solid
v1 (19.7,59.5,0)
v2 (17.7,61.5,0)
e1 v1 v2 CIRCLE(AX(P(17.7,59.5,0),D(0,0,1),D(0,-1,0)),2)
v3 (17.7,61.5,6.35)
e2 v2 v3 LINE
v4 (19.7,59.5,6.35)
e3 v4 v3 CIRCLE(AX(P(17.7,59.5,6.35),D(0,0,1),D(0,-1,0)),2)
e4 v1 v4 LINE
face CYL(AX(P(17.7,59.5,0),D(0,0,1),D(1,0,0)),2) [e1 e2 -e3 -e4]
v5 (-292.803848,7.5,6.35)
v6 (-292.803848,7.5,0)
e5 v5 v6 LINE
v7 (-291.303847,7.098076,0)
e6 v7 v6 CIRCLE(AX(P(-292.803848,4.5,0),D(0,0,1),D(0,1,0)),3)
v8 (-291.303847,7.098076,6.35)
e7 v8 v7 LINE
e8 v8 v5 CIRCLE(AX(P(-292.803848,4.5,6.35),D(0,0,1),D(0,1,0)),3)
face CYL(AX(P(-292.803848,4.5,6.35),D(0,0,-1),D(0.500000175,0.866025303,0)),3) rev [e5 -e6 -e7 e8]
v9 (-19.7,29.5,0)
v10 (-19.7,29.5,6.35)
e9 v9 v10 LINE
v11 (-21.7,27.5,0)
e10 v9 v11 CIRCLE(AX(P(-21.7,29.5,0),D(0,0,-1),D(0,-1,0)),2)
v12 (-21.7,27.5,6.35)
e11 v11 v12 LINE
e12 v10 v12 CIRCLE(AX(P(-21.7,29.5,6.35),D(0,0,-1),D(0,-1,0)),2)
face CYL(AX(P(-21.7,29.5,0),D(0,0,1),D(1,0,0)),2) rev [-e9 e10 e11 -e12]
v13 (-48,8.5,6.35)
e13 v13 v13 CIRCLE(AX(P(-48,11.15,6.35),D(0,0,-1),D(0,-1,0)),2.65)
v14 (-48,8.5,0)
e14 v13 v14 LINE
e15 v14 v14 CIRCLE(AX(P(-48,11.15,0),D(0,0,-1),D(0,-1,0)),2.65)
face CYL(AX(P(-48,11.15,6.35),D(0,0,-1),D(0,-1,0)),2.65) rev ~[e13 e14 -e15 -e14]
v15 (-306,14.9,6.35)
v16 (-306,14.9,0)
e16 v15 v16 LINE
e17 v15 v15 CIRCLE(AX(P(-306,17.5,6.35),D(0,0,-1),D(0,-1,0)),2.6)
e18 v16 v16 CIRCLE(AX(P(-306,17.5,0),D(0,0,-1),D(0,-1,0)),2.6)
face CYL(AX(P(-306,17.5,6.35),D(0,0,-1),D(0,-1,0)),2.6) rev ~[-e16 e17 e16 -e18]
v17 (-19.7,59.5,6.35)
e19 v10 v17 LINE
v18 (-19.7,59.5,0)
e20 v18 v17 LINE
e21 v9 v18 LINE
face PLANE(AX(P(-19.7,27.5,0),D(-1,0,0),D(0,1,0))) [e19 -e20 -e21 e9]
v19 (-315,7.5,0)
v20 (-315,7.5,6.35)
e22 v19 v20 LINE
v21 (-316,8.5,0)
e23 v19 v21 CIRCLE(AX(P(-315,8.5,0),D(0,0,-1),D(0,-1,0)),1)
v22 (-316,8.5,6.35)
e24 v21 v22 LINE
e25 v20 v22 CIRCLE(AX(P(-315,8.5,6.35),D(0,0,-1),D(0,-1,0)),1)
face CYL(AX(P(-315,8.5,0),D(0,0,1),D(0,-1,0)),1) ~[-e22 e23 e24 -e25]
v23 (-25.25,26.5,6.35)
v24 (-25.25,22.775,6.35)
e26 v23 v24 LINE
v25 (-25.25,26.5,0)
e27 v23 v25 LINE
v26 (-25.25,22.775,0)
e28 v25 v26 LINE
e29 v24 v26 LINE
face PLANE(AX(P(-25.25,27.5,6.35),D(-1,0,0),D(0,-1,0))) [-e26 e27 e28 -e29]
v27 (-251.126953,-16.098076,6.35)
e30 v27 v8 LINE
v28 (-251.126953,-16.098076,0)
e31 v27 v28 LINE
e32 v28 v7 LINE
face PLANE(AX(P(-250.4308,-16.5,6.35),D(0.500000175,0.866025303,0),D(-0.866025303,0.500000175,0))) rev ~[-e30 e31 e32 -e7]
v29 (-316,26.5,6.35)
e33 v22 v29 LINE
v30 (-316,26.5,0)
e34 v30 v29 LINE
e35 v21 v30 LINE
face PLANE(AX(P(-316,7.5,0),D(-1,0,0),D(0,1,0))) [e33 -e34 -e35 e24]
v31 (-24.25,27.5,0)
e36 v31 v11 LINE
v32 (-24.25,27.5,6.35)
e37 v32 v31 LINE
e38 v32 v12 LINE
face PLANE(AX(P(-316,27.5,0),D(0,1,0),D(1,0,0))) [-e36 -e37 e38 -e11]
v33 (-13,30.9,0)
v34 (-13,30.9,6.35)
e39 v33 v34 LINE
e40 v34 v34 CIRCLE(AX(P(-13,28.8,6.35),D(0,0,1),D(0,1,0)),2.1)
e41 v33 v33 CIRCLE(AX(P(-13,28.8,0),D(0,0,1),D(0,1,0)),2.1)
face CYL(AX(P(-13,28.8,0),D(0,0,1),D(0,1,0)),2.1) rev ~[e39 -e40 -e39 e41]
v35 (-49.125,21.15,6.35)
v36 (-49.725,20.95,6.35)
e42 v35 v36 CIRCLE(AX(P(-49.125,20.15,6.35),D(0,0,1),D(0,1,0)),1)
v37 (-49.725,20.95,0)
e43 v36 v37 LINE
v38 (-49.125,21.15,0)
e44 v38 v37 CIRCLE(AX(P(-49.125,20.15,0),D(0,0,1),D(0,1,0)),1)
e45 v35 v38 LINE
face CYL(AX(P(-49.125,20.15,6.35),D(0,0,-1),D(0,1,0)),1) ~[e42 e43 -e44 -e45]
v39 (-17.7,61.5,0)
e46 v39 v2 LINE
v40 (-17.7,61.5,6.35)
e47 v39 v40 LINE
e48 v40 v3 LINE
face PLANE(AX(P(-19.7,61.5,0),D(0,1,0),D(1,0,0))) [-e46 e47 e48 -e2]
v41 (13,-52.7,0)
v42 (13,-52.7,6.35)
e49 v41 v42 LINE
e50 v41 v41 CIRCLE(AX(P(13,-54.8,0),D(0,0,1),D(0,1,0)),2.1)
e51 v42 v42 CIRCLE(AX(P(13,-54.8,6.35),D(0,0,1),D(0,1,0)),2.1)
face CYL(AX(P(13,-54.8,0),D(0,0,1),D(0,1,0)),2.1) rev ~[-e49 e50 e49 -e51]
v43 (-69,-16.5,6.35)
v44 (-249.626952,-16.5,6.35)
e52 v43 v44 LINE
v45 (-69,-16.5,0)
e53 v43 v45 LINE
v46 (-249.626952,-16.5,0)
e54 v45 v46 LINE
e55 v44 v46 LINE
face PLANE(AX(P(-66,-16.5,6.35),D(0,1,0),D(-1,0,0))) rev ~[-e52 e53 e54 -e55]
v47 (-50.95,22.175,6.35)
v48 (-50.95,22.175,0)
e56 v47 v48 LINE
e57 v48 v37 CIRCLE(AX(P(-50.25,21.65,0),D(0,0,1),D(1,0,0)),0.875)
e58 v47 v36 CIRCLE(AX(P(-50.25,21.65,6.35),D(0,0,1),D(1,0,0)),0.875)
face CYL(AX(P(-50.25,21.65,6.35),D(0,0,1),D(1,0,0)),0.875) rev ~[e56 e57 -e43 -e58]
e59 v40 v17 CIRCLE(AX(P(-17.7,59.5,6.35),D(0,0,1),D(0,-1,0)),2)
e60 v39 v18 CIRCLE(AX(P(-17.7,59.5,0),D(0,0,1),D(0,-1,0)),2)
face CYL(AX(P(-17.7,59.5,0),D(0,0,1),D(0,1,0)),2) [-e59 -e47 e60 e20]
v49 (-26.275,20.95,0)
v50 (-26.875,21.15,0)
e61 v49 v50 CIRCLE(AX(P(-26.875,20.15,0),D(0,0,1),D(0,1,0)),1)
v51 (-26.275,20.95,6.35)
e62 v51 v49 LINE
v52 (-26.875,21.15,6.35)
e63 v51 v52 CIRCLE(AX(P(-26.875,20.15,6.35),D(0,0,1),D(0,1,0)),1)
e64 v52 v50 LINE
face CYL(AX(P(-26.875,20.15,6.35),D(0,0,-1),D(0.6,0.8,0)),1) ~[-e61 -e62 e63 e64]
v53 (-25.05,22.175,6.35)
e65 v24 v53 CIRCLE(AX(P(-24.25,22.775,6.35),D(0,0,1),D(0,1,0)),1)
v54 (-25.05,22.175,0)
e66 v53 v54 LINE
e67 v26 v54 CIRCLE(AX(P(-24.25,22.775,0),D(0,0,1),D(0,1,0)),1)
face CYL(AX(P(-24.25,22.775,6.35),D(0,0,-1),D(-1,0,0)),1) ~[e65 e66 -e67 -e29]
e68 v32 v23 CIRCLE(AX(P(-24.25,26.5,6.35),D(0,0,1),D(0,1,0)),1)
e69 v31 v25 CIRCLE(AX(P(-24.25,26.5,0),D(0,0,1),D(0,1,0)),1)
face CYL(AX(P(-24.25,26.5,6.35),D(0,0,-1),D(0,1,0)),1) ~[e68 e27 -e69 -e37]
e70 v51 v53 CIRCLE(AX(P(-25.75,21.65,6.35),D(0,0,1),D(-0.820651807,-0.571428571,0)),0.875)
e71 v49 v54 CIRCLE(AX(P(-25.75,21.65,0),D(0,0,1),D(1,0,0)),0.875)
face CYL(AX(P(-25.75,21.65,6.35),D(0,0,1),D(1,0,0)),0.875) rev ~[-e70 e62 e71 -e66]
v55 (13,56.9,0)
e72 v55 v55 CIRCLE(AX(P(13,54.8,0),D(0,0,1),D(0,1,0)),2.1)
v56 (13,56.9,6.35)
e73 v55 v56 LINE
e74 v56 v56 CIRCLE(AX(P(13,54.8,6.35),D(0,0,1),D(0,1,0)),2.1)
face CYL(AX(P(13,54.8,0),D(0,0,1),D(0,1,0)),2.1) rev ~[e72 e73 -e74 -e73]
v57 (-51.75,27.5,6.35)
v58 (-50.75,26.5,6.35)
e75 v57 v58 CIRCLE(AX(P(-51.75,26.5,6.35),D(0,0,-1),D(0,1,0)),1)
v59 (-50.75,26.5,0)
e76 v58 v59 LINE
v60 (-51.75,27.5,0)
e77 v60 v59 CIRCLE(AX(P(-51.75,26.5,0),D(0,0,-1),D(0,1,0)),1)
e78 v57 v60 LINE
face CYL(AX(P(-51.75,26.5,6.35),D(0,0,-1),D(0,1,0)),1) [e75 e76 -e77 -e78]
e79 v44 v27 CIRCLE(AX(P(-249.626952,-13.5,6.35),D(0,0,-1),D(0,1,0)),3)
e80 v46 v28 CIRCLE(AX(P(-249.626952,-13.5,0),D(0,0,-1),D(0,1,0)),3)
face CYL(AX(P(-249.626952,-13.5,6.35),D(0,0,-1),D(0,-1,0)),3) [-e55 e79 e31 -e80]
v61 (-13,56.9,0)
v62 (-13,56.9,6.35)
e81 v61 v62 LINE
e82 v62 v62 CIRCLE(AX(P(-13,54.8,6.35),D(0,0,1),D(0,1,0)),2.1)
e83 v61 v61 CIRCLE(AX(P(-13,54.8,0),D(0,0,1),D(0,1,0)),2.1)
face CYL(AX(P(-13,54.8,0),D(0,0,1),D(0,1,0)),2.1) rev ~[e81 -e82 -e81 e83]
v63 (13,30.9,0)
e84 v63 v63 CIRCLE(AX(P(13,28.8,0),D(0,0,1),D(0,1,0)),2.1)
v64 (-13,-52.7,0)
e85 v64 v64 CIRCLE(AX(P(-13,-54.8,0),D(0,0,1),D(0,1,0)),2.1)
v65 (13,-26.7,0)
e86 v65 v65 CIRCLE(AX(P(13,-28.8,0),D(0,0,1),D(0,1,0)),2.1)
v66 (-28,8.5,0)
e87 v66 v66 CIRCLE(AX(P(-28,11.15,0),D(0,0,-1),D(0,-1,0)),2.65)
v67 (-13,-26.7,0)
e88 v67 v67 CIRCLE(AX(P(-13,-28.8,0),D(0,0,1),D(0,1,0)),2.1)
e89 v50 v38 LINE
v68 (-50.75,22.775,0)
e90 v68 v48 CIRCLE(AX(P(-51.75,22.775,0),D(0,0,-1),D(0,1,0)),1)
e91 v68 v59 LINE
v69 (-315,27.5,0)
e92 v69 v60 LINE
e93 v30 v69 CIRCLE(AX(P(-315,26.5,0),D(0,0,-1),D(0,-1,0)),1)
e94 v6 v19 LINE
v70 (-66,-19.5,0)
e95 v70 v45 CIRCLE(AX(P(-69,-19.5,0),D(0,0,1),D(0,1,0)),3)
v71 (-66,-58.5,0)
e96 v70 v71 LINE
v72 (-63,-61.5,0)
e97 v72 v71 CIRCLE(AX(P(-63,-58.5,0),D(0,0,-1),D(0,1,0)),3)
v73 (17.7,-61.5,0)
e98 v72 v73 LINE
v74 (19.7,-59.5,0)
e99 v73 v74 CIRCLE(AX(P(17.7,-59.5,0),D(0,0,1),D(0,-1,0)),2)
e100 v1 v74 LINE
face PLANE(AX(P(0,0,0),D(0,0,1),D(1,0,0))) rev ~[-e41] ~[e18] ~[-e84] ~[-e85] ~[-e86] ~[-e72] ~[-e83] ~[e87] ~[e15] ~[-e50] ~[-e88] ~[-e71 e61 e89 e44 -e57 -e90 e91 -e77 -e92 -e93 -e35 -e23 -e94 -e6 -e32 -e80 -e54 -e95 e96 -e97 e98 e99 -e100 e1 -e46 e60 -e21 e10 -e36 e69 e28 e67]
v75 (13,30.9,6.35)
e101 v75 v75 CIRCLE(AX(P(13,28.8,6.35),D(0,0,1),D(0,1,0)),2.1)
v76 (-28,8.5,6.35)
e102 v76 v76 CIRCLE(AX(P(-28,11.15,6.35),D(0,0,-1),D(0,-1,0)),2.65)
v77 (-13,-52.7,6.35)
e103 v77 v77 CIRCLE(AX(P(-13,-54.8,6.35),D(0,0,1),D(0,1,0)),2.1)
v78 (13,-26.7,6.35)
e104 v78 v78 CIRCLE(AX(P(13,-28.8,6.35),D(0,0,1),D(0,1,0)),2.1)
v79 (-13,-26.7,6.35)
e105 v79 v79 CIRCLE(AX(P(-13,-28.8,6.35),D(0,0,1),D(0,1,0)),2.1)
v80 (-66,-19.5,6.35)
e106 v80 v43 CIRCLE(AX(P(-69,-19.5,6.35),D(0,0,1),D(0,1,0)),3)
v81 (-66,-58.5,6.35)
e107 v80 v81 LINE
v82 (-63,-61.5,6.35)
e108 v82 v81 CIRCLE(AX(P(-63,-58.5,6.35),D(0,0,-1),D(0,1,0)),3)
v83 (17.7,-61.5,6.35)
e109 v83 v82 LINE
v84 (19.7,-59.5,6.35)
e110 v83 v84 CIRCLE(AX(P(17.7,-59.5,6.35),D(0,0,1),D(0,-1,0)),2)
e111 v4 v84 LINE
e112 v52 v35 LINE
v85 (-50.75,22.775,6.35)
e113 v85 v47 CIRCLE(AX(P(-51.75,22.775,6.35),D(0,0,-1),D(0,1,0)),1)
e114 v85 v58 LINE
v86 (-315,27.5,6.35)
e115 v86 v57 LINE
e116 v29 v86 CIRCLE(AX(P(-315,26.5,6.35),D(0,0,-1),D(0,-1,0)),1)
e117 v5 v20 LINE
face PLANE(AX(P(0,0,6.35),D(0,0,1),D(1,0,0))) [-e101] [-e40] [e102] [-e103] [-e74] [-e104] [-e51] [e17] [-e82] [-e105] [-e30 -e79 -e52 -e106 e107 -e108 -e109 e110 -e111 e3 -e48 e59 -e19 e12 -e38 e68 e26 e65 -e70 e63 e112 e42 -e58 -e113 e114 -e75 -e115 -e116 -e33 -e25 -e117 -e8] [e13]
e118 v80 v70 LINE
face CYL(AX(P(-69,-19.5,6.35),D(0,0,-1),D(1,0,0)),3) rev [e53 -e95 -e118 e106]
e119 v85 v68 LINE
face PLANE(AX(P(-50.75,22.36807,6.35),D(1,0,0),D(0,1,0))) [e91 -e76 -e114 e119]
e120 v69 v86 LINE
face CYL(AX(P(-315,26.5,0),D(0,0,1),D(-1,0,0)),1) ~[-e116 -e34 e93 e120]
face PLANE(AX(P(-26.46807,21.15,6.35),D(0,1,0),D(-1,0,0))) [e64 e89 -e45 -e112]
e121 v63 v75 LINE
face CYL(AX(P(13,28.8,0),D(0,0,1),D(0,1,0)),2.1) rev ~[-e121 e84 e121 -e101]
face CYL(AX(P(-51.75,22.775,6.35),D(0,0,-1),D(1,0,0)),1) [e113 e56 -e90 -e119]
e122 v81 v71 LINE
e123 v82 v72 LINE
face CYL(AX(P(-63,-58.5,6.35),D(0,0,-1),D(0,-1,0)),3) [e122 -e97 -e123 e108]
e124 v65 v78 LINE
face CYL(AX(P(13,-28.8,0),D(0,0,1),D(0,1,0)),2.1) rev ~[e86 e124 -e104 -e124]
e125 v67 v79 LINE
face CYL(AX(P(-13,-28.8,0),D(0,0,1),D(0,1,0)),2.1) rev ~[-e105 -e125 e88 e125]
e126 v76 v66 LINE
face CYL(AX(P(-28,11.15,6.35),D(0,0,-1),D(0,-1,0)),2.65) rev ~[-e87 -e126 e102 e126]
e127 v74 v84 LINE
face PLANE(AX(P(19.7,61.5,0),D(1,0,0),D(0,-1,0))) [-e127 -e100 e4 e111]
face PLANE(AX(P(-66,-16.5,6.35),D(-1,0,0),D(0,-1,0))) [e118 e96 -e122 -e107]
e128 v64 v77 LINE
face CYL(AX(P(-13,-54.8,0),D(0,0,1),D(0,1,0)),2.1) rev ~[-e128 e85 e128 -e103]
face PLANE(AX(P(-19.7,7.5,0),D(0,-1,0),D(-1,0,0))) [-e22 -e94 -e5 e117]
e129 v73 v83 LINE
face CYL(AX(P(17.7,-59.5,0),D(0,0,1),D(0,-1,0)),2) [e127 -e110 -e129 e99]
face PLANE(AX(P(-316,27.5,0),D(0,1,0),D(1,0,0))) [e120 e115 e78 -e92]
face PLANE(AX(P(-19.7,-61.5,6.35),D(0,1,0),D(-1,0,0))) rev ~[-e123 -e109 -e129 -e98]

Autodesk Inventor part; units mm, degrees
ref_plane "YZ Plane" through (0, 0, 0) normal (1, 0, 0) x (0, 1, 0)
ref_plane "XZ Plane" through (0, 0, 0) normal (0, 1, 0) x (-1, 0, 0)
sketch "Sketch1" plane through (0, 0, 0) normal (0, 0, 1) x (1, 0, 0)
  line L0 (19.7, -72.5) -> (-19.7, -72.5)
  line L1 (-19.7, -72.5) -> (-19.7, 72.5)
  line L2 (-19.7, 72.5) -> (19.7, 72.5)
  line L3 (19.7, 72.5) -> (19.7, -72.5)
  line L4 (19.7, -72.5) -> (-19.7, 72.5) construction
  line L5 (-19.7, -72.5) -> (19.7, 72.5) construction
  line L6 (19.7, 11.1) -> (-19.7, 11.1) construction
  line L7 (-19.7, 11.1) -> (-19.7, 72.5) construction
  line L8 (-19.7, 72.5) -> (19.7, 72.5) construction
  line L9 (19.7, 72.5) -> (19.7, 11.1) construction
  line L10 (19.7, 11.1) -> (-19.7, 72.5) construction
  line L11 (-19.7, 11.1) -> (19.7, 72.5) construction
  line L12 (19.7, -72.5) -> (-19.7, -72.5) construction
  line L13 (-19.7, -72.5) -> (-19.7, -11.1) construction
  line L14 (-19.7, -11.1) -> (19.7, -11.1) construction
  line L15 (19.7, -11.1) -> (19.7, -72.5) construction
  line L16 (19.7, -72.5) -> (-19.7, -11.1) construction
  line L17 (-19.7, -72.5) -> (19.7, -11.1) construction
  line L18 (19.7, 22.1) -> (-19.7, 22.1) construction
  line L19 (-19.7, 22.1) -> (-19.7, 61.5) construction
  line L20 (-19.7, 61.5) -> (19.7, 61.5)
  line L21 (19.7, 61.5) -> (19.7, 22.1) construction
  line L22 (19.7, 22.1) -> (-19.7, 61.5) construction
  line L23 (-19.7, 22.1) -> (19.7, 61.5) construction
  line L24 (19.7, -61.5) -> (-19.7, -61.5)
  line L25 (-19.7, -61.5) -> (-19.7, -22.1) construction
  line L26 (-19.7, -22.1) -> (19.7, -22.1) construction
  line L27 (19.7, -22.1) -> (19.7, -61.5) construction
  line L28 (19.7, -61.5) -> (-19.7, -22.1) construction
  line L29 (-19.7, -61.5) -> (19.7, -22.1) construction
  line L30 (13, 28.8) -> (-13, 28.8) construction
  line L31 (-13, 28.8) -> (-13, 54.8) construction
  line L32 (-13, 54.8) -> (13, 54.8) construction
  line L33 (13, 54.8) -> (13, 28.8) construction
  line L34 (13, 28.8) -> (-13, 54.8) construction
  line L35 (-13, 28.8) -> (13, 54.8) construction
  line L36 (13, -54.8) -> (-13, -54.8) construction
  line L37 (-13, -54.8) -> (-13, -28.8) construction
  line L38 (-13, -28.8) -> (13, -28.8) construction
  line L39 (13, -28.8) -> (13, -54.8) construction
  line L40 (13, -54.8) -> (-13, -28.8) construction
  line L41 (-13, -54.8) -> (13, -28.8) construction
  line L42 (-316, 27.5) -> (-19.7, 27.5)
  line L43 (-19.7, 27.5) -> (-19.7, 7.5)
  line L44 (-19.7, 7.5) -> (-316, 7.5)
  line L45 (-316, 7.5) -> (-316, 27.5)
  line L46 (19.7, -63.5) -> (19.7, -63.5)
  line L47 (19.772, 73.498) -> (19.772, 73.498)
  point P0 (0, 0)
  point P1 (0, 41.8)
  point P2 (0, -41.8)
  point P3 (-316, 17.5)
  point P4 (-291, 7.5)
  point P5 (17, 72.5)
  point P6 (17, -72.5)
  point P7 (-19.7, 27.5)
  point P8 (-19.7, 7.5)
  point P9 (-19.7, -61.5)
  point P10 (19.7, -61.5)
  dimension "d1" = 145
  dimension "d2" = 61.4
  dimension "d3" = 39.4
  dimension "d4" = 26
  dimension "d5" = 26
  dimension "d6" = 20
  dimension "d8" = 316
  dimension "d11" = 25
  dimension "d55" = 45
  dimension "d126" = 6.7
  dimension "d128" = 6.7
extrude "Extrusion1" add sketch "Sketch1" along normal blind 6.35 contours L24 L1 L20 L3 | L44 L45 L42 L1
sketch "Sketch2" plane through (0, 0, 6.35) normal (0, 0, 1) x (1, 0, 0)
  line L0 (19.7, -61.5) -> (19.7, 61.5) projected
  line L1 (-19.7, 61.5) -> (-19.7, 27.5) projected
  line L2 (-19.7, 27.5) -> (-316, 27.5) projected
  line L3 (-316, 27.5) -> (-316, 7.5) projected
  line L4 (-316, 7.5) -> (-19.7, 7.5) projected
  line L5 (-19.7, 7.5) -> (-19.7, -61.5) projected
  line L6 (19.7, -61.5) -> (-19.7, -61.5) construction
  line L7 (-19.7, -61.5) -> (19.7, -61.5) projected
  line L8 (19.7, 61.5) -> (-19.7, 61.5) projected
  line L9 (-19.7, -61.5) -> (-66, -61.5)
  line L10 (-66, -16.5) -> (-250.4308, -16.5)
  line L11 (-250.4308, -16.5) -> (-292, 7.5)
  line L12 (-66, -16.5) -> (-66, -61.5)
  point P0 (0, 0)
  point P1 (0, 41.8)
  point P2 (0, -41.8)
  point P3 (13, 28.8)
  point P4 (13, -28.8)
  dimension "d25" = 24
  dimension "d124" = 34
  dimension "d140" = 24
  dimension "d142" = 85.7
  dimension "d143" = 150
extrude "Extrusion2" add sketch "Sketch2" against normal up to surface (6.35 mm away) contours L9 L12 L10 L11 L4 L5
hole "Hole1" at (-13, 54.8, 0) at (13, 54.8, 0) at (13, 28.8, 0) at (-13, 28.8, 0) at (-13, -28.8, 0) at (13, -28.8, 0) at (13, -54.8, 0) at (-13, -54.8, 0) direction (0, 0, 1) diameter 4.2 end through all
sketch "Z POSITIONING" plane through (0, 0, 6.35) normal (0, 0, 1) x (1, 0, 0)
  circle A0 centre (-13, -54.8) radius 2.1 projected
  circle A1 centre (13, -54.8) radius 2.1 projected
  circle A2 centre (13, -28.8) radius 2.1 projected
  circle A3 centre (-13, -28.8) radius 2.1 projected
  circle A4 centre (-13, 28.8) radius 2.1 projected
  circle A5 centre (13, 28.8) radius 2.1 projected
  circle A6 centre (13, 54.8) radius 2.1 projected
  circle A7 centre (-13, 54.8) radius 2.1 projected
  line L0 (-19.7, 27.5) -> (-316, 27.5) projected
  line L1 (-316, 27.5) -> (-316, 7.5) projected
  line L2 (-316, 7.5) -> (-292, 7.5) projected
  line L3 (-73.0306, 76.9979) -> (-73.0306, 70.6479)
  line L4 (-13, 54.8) -> (13, 54.8) construction
  line L5 (-51.9212, 35.5) -> (-16.9212, 35.5) construction
  line L6 (-16.9212, 35.5) -> (-16.9212, 27.5) construction
  line L7 (-16.9212, 27.5) -> (-51.9212, 27.5) construction
  line L8 (-51.9212, 27.5) -> (-51.9212, 35.5) construction
  line L9 (-51.9212, 69.65) -> (-6.1684, 69.65) construction
  line L10 (-125.0107, 76) -> (3.0638, 76) construction
  line L11 (3.0638, 76) -> (3.0638, 69.65) construction
  line L12 (3.0638, 69.65) -> (-125.0107, 69.65) construction
  line L13 (-125.0107, 69.65) -> (-125.0107, 76) construction
  line L14 (-120.28, 89) -> (-45.2895, 89) construction
  line L15 (-45.2895, 89) -> (-45.2895, 76) construction
  line L16 (-45.2895, 76) -> (-120.28, 76) construction
  line L17 (-120.28, 76) -> (-120.28, 89) construction
  line L18 (-46.2871, 30.7481) -> (-33.7765, 30.7481) construction
  line L19 (-33.7765, 30.7481) -> (-33.7765, 27.5) construction
  line L20 (-33.7765, 27.5) -> (-46.2871, 27.5) construction
  line L21 (-46.2871, 27.5) -> (-46.2871, 30.7481) construction
  line L22 (-83.6356, 76.3105) -> (-20.2105, 76.3105) construction
  line L23 (-20.2105, 76.3105) -> (-20.2105, 72.407) construction
  line L24 (-20.2105, 72.407) -> (-83.6356, 72.407) construction
  line L25 (-83.6356, 72.407) -> (-83.6356, 76.3105) construction
  line L26 (-72.5883, 73.6984) -> (-50.3384, 73.6984) construction
  line L27 (-50.3384, 73.6984) -> (-50.3384, 69.65) construction
  line L28 (-50.3384, 69.65) -> (-72.5883, 69.65) construction
  line L29 (-72.5883, 69.65) -> (-72.5883, 73.6984) construction
  line L30 (-111.3546, 80.0484) -> (-73.1953, 80.0484) construction
  line L31 (-73.1953, 80.0484) -> (-73.1953, 76) construction
  line L32 (-73.1953, 76) -> (-111.3546, 76) construction
  line L33 (-111.3546, 76) -> (-111.3546, 80.0484) construction
  line L34 (-122.3616, 95.35) -> (-60.8324, 95.35) construction
  line L35 (-60.8324, 95.35) -> (-60.8324, 89) construction
  line L36 (-60.8324, 89) -> (-122.3616, 89) construction
  line L37 (-122.3616, 89) -> (-122.3616, 95.35) construction
  line L38 (-97.4496, 108.35) -> (-64.4997, 108.35) construction
  line L39 (-64.4997, 108.35) -> (-64.4997, 95.35) construction
  line L40 (-64.4997, 95.35) -> (-97.4496, 95.35) construction
  line L41 (-97.4496, 95.35) -> (-97.4496, 108.35) construction
  line L42 (-105.6043, 93.0261) -> (-84.5103, 93.0261) construction
  line L43 (-84.5103, 93.0261) -> (-84.5103, 89) construction
  line L44 (-84.5103, 89) -> (-105.6043, 89) construction
  line L45 (-105.6043, 89) -> (-105.6043, 93.0261) construction
  line L46 (-109.4941, 99.3984) -> (-71.3471, 99.3984) construction
  line L47 (-71.3471, 99.3984) -> (-71.3471, 95.35) construction
  line L48 (-71.3471, 95.35) -> (-109.4941, 95.35) construction
  line L49 (-109.4941, 95.35) -> (-109.4941, 99.3984) construction
  line L50 (-134.6087, 111.525) -> (-34.6087, 111.525) construction
  line L51 (-34.6087, 111.525) -> (-34.6087, 108.35) construction
  line L52 (-34.6087, 108.35) -> (-134.6087, 108.35) construction
  line L53 (-134.6087, 108.35) -> (-134.6087, 111.525) construction
  line L54 (-97.1464, 115.5511) -> (-69.166, 115.5511) construction
  line L55 (-69.166, 115.5511) -> (-69.166, 111.525) construction
  line L56 (-69.166, 111.525) -> (-97.1464, 111.525) construction
  line L57 (-97.1464, 111.525) -> (-97.1464, 115.5511) construction
  line L58 (-143.7669, 61.65) -> (-108.5896, 61.65) construction
  line L59 (-148.1315, 61.65) -> (-115.878, 61.65) construction
  line L60 (-115.878, 61.65) -> (-115.878, 58.4884) construction
  line L61 (-115.878, 58.4884) -> (-148.1315, 58.4884) construction
  line L62 (-148.1315, 58.4884) -> (-148.1315, 61.65) construction
  line L63 (-66, -61.5) -> (19.7, -61.5) projected
  line L64 (-19.7, 61.5) -> (-19.7, 27.5) projected
  line L65 (19.7, -61.5) -> (19.7, 61.5) projected
  line L66 (19.7, 61.5) -> (-19.7, 61.5) projected
  line L67 (-292, 7.5) -> (-250.4308, -16.5) projected
  line L68 (-250.4308, -16.5) -> (-66, -16.5) projected
  line L69 (-66, -16.5) -> (-66, -61.5) projected
  point P0 (0, 0)
  point P1 (0, 54.8)
  dimension "d39" = 6.35
  dimension "d42" = 35
  dimension "d43" = 8
  dimension "d44" = 34.15
  dimension "d45" = 6.35
  dimension "d46" = 13
  dimension "d48" = 6.35
  dimension "d49" = 13
  dimension "d50" = 100
  dimension "d51" = 3.175
  dimension "d52" = 46.7
  dimension "d53" = 34.15
ref_plane "PRINTBED PLANE" through (-316, 61.65, 6.35) normal (0, 1, 0) x (1, 0, 0)
sketch "Y POSITIONING" plane through (0, 0, 6.35) normal (0, 0, 1) x (1, 0, 0)
  line L0 (-315, 61.65) -> (-29, 61.65) construction
  line L1 (-306, 61.65) -> (-306, 54.4706) construction
  line L2 (-38, 61.65) -> (-38, 46.65) construction
  line L3 (-316, 27.5) -> (-316, 7.5) projected
  line L4 (-32, 27.5) -> (-44, 27.5) construction
  line L5 (-44, 27.5) -> (-44, 61.65) construction
  line L6 (-44, 61.65) -> (-32, 61.65) construction
  line L7 (-32, 61.65) -> (-32, 27.5) construction
  line L8 (-32, 27.5) -> (-44, 61.65) construction
  line L9 (-44, 27.5) -> (-32, 61.65) construction
  line L10 (-19.7, 27.5) -> (-316, 27.5) projected
  circle A0 centre (-13, -54.8) radius 2.1 projected
  circle A1 centre (13, -54.8) radius 2.1 projected
  circle A2 centre (13, -28.8) radius 2.1 projected
  circle A3 centre (-13, -28.8) radius 2.1 projected
  circle A4 centre (-13, 28.8) radius 2.1 projected
  circle A5 centre (13, 28.8) radius 2.1 projected
  circle A6 centre (13, 54.8) radius 2.1 projected
  circle A7 centre (-13, 54.8) radius 2.1 projected
  line L11 (-19.7, 27.5) -> (-316, 27.5) projected
  line L12 (-316, 27.5) -> (-316, 7.5) projected
  line L13 (-316, 7.5) -> (-292, 7.5) projected
  line L14 (-13, 54.8) -> (13, 28.8) construction
  line L15 (-383.14, 61.65) -> (86.84, 61.65) construction
  line L16 (-53, 27.5) -> (-23, 27.5) construction
  line L17 (-23, 27.5) -> (-23, 35.5) construction
  line L18 (-23, 35.5) -> (-53, 35.5) construction
  line L19 (-53, 35.5) -> (-53, 27.5) construction
  line L20 (-53, 27.5) -> (-23, 35.5) construction
  line L21 (-23, 27.5) -> (-53, 35.5) construction
  line L22 (-66, -61.5) -> (19.7, -61.5) projected
  line L23 (-58, 21.15) -> (-18, 21.15) construction
  line L24 (-18, 21.15) -> (-18, 1.15) construction
  line L25 (-18, 1.15) -> (-58, 1.15) construction
  line L26 (-58, 1.15) -> (-58, 21.15) construction
  line L27 (-48, 11.15) -> (-28, 11.15) construction
  line L28 (-19.7, 61.5) -> (-19.7, 27.5) projected
  line L29 (19.7, -61.5) -> (19.7, 61.5) projected
  line L30 (19.7, 61.5) -> (-19.7, 61.5) projected
  line L31 (-292, 7.5) -> (-250.4308, -16.5) projected
  line L32 (-250.4308, -16.5) -> (-66, -16.5) projected
  line L33 (-66, -16.5) -> (-66, -61.5) projected
  point P0 (0, 0)
  point P1 (-38, 44.575)
  point P2 (-32, 47.5)
  point P3 (0, 41.8)
  point P4 (-38, 31.5)
  point P5 (-38, 27.5)
  point P6 (-38, 21.15)
  point P7 (-38, 11.15)
  point P8 (-18, 11.15)
  dimension "d58" = 286
  dimension "d60" = 9
  dimension "d61" = 10
  dimension "d62" = 12
  dimension "d63" = 38
  dimension "d64" = 9
  dimension "d65" = 30
  dimension "d66" = 8
  dimension "d67" = 15
  dimension "d68" = 19.15
  dimension "d83" = 40
  dimension "d84" = 20
  dimension "d85" = 6.35
  dimension "d90" = 20
sketch "Sketch5" plane through (0, 0, 6.35) normal (0, 0, 1) x (1, 0, 0)
  line L0 (-296, 7.5) -> (-316, 7.5) construction
  line L1 (-316, 7.5) -> (-316, 27.5) construction
  line L2 (-316, 27.5) -> (-296, 27.5) construction
  line L3 (-296, 27.5) -> (-296, 7.5) construction
  line L4 (-296, 7.5) -> (-316, 27.5) construction
  line L5 (-316, 7.5) -> (-296, 27.5) construction
  point P0 (0, 0)
  point P1 (-306, 17.5)
  point P2 (-306, 17.5)
hole "Hole2" at (-306, 17.5, 6.35) direction (0, 0, -1) diameter 5.2 end through all
sketch "Sketch6" plane through (0, 0, 6.35) normal (0, 0, 1) x (1, 0, 0)
  line L0 (-50.75, 27.5) -> (-25.25, 27.5)
  line L1 (-25.25, 27.5) -> (-25.25, 21.15)
  line L2 (-25.25, 21.15) -> (-50.75, 21.15)
  line L3 (-50.75, 21.15) -> (-50.75, 27.5)
  line L4 (-38, 61.65) -> (-38, 46.65) construction
  line L5 (-19.7, 27.5) -> (-316, 27.5) projected
  line L6 (-58, 21.15) -> (-18, 21.15) construction
  circle A0 centre (-50.25, 21.65) radius 0.875
  circle A1 centre (-25.75, 21.65) radius 0.875
  point P0 (0, 0)
  point P1 (-38, 27.5)
  point P2 (-32, 47.5)
  point P3 (-26.4681, 21.15)
  point P4 (-25.25, 22.3681)
  point P5 (-50.75, 22.3681)
  point P6 (-49.5319, 21.15)
  dimension "d79" = 25.5
  dimension "d86" = 1.75
  dimension "d87" = 0.5
  dimension "d88" = 0.5
  dimension "d89" = 0.5
extrude "Extrusion3" cut sketch "Sketch6" against normal through all
hole "Hole3" at (-48, 11.15, 6.35) at (-28, 11.15, 6.35) direction (0, 0, -1) diameter 5.3 end through all
sketch "Sketch9" plane through (0, 0, 6.35) normal (0, 0, 1) x (1, 0, 0)
  circle A0 centre (-28, 11.15) radius 2.65 projected
  circle A1 centre (-48, 11.15) radius 2.65 projected
  line L0 (-50.75, 22.3681) -> (-50.75, 27.5) projected
  line L1 (-50.75, 27.5) -> (-316, 27.5) projected
  line L2 (-316, 27.5) -> (-316, 7.5) projected
  line L3 (-316, 7.5) -> (-292, 7.5) projected
  line L4 (-66, -61.5) -> (19.7, -61.5) projected
  line L5 (-25.25, 27.5) -> (-25.25, 22.3681) projected
  arc A2 (-26.4681, 21.15) -> (-25.25, 22.3681) centre (-25.75, 21.65) ccw projected
  line L6 (-26.4681, 21.15) -> (-49.5319, 21.15) projected
  arc A3 (-50.75, 22.3681) -> (-49.5319, 21.15) centre (-50.25, 21.65) ccw projected
  circle A4 centre (-306, 17.5) radius 2.6 projected
  circle A5 centre (-13, -54.8) radius 2.1 projected
  circle A6 centre (13, -54.8) radius 2.1 projected
  circle A7 centre (13, -28.8) radius 2.1 projected
  circle A8 centre (-13, -28.8) radius 2.1 projected
  circle A9 centre (-13, 28.8) radius 2.1 projected
  circle A10 centre (13, 28.8) radius 2.1 projected
  circle A11 centre (13, 54.8) radius 2.1 projected
  circle A12 centre (-13, 54.8) radius 2.1 projected
  line L7 (-19.7, 61.5) -> (-19.7, 27.5) projected
  line L8 (19.7, -61.5) -> (19.7, 61.5) projected
  line L9 (19.7, 61.5) -> (-19.7, 61.5) projected
  line L10 (-19.7, 27.5) -> (-25.25, 27.5) projected
  line L11 (-292, 7.5) -> (-250.4308, -16.5) projected
  line L12 (-250.4308, -16.5) -> (-66, -16.5) projected
  line L13 (-66, -16.5) -> (-66, -61.5) projected
  point P0 (0, 0)
fillet "Fillet3" radius 1 8 edges at (-316, 27.5, 3.175) (-316, 7.5, 3.175) (-50.75, 27.5, 3.175) (-50.75, 22.3681, 3.175) (-49.5319, 21.15, 3.175) (-26.4681, 21.15, 3.175) (-25.25, 22.3681, 3.175) (-25.25, 27.5, 3.175)
fillet "Fillet4" radius 3 4 edges at (-66, -61.5, 3.175) (-250.4308, -16.5, 3.175) (-66, -16.5, 3.175) (-292, 7.5, 3.175)
fillet "Fillet5" radius 2 4 edges at (-19.7, 27.5, 3.175) (-19.7, 61.5, 3.175) (19.7, 61.5, 3.175) (19.7, -61.5, 3.175)
sketch "Sketch10" plane through (0, 0, 6.35) normal (0, 0, 1) x (1, 0, 0)
  line L0 (-163.15, 17.9395) -> (-148.15, 26.5998)
  line L1 (-148.15, 26.5998) -> (-133.15, 17.9395)
  line L2 (-133.15, 17.9395) -> (-133.15, 0.619)
  line L3 (-133.15, 0.619) -> (-148.15, -8.0412)
  line L4 (-148.15, -8.0412) -> (-163.15, 0.619)
  line L5 (-163.15, 0.619) -> (-163.15, 17.9395)
  arc A0 (17.7, -59) -> (19.7, -57) centre (17.7, -57) ccw projected
  line L6 (19.7, -57) -> (19.7, 57) projected
  arc A1 (19.7, 57) -> (17.7, 59) centre (17.7, 57) ccw projected
  line L7 (17.7, 59) -> (-17.7, 59) projected
  arc A2 (-17.7, 59) -> (-19.7, 57) centre (-17.7, 57) ccw projected
  line L8 (-19.7, 57) -> (-19.7, 42) projected
  arc A3 (-21.7, 40) -> (-19.7, 42) centre (-21.7, 42) ccw projected
  line L9 (-21.7, 40) -> (-24.25, 40) projected
  arc A4 (-24.25, 40) -> (-25.25, 39) centre (-24.25, 39) ccw projected
  line L10 (-25.25, 39) -> (-25.25, 35.275) projected
  arc A5 (-25.25, 35.275) -> (-25.05, 34.675) centre (-24.25, 35.275) ccw projected
  arc A6 (-26.275, 33.45) -> (-25.05, 34.675) centre (-25.75, 34.15) ccw projected
  arc A7 (-26.275, 33.45) -> (-26.875, 33.65) centre (-26.875, 32.65) ccw projected
  line L11 (-26.875, 33.65) -> (-49.125, 33.65) projected
  arc A8 (-49.125, 33.65) -> (-49.725, 33.45) centre (-49.125, 32.65) ccw projected
  arc A9 (-50.95, 34.675) -> (-49.725, 33.45) centre (-50.25, 34.15) ccw projected
  arc A10 (-50.95, 34.675) -> (-50.75, 35.275) centre (-51.75, 35.275) ccw projected
  line L12 (-50.75, 35.275) -> (-50.75, 39) projected
  arc A11 (-50.75, 39) -> (-51.75, 27.5) centre (-51.75, 39) ccw projected
  line L13 (-51.75, 40) -> (-315, 40) projected
  arc A12 (-315, 27.5) -> (-316, 39) centre (-315, 39) ccw projected
  line L14 (-316, 39) -> (-316, 21) projected
  arc A13 (-316, 21) -> (-315, 20) centre (-315, 21) ccw projected
  line L15 (-315, 20) -> (-301.6658, 20) projected
  arc A14 (-300.3574, 19.8258) -> (-301.6658, 20) centre (-301.6658, 15) ccw projected
  line L16 (-300.3574, 19.8258) -> (-80.3426, -39.8258) projected
  arc A15 (-80.3426, -39.8258) -> (-79.0342, -40) centre (-79.0342, -35) ccw projected
  line L17 (-79.0342, -40) -> (-21.7, -40) projected
  arc A16 (-19.7, -42) -> (-21.7, -40) centre (-21.7, -42) ccw projected
  line L18 (-19.7, -42) -> (-19.7, -57) projected
  arc A17 (-19.7, -57) -> (-17.7, -59) centre (-17.7, -57) ccw projected
  line L19 (-17.7, -59) -> (17.7, -59) projected
  circle A18 centre (-28, 23.65) radius 2.65 projected
  circle A19 centre (-48, 23.65) radius 2.65 projected
  circle A20 centre (-306, 30) radius 2.6 projected
  circle A21 centre (-13, -52.3) radius 2.1 projected
  circle A22 centre (13, -52.3) radius 2.1 projected
  circle A23 centre (13, -26.3) radius 2.1 projected
  circle A24 centre (-13, -26.3) radius 2.1 projected
  circle A25 centre (-13, 26.3) radius 2.1 projected
  circle A26 centre (13, 26.3) radius 2.1 projected
  circle A27 centre (13, 52.3) radius 2.1 projected
  circle A28 centre (-13, 52.3) radius 2.1 projected
  line L20 (-163.15, 17.9395) -> (-148.15, 9.2793)
  line L21 (-148.15, 9.2793) -> (-133.15, 17.9395)
  line L22 (-148.15, 9.2793) -> (-148.15, -8.0412) construction
  line L23 (-148.15, 0.619) -> (-163.15, 9.2793)
  line L24 (-148.15, 0.619) -> (-133.15, 9.2793)
  line L25 (-133.15, 15.0528) -> (-148.15, 6.3925)
  line L26 (-148.15, 6.3925) -> (-163.15, 15.0528)
  line L27 (-163.15, 6.3925) -> (-148.15, -2.2677)
  line L28 (-148.15, -2.2677) -> (-133.15, 6.3925)
  line L29 (-51.75, 27.5) -> (-315, 27.5) construction
  line L30 (-148.15, 40) -> (-148.15, -21.4415) construction
  line L31 (-316, 30) -> (19.7, 30) construction
  point P0 (0, 0)
  point P1 (-148.15, 30)
  dimension "d132" = 30
  dimension "d133" = 5
  dimension "d134" = 2.5
  dimension "d135" = 5
equation "\"d54\" = d53"
properties part number "Z-Axis Bed Plates"
